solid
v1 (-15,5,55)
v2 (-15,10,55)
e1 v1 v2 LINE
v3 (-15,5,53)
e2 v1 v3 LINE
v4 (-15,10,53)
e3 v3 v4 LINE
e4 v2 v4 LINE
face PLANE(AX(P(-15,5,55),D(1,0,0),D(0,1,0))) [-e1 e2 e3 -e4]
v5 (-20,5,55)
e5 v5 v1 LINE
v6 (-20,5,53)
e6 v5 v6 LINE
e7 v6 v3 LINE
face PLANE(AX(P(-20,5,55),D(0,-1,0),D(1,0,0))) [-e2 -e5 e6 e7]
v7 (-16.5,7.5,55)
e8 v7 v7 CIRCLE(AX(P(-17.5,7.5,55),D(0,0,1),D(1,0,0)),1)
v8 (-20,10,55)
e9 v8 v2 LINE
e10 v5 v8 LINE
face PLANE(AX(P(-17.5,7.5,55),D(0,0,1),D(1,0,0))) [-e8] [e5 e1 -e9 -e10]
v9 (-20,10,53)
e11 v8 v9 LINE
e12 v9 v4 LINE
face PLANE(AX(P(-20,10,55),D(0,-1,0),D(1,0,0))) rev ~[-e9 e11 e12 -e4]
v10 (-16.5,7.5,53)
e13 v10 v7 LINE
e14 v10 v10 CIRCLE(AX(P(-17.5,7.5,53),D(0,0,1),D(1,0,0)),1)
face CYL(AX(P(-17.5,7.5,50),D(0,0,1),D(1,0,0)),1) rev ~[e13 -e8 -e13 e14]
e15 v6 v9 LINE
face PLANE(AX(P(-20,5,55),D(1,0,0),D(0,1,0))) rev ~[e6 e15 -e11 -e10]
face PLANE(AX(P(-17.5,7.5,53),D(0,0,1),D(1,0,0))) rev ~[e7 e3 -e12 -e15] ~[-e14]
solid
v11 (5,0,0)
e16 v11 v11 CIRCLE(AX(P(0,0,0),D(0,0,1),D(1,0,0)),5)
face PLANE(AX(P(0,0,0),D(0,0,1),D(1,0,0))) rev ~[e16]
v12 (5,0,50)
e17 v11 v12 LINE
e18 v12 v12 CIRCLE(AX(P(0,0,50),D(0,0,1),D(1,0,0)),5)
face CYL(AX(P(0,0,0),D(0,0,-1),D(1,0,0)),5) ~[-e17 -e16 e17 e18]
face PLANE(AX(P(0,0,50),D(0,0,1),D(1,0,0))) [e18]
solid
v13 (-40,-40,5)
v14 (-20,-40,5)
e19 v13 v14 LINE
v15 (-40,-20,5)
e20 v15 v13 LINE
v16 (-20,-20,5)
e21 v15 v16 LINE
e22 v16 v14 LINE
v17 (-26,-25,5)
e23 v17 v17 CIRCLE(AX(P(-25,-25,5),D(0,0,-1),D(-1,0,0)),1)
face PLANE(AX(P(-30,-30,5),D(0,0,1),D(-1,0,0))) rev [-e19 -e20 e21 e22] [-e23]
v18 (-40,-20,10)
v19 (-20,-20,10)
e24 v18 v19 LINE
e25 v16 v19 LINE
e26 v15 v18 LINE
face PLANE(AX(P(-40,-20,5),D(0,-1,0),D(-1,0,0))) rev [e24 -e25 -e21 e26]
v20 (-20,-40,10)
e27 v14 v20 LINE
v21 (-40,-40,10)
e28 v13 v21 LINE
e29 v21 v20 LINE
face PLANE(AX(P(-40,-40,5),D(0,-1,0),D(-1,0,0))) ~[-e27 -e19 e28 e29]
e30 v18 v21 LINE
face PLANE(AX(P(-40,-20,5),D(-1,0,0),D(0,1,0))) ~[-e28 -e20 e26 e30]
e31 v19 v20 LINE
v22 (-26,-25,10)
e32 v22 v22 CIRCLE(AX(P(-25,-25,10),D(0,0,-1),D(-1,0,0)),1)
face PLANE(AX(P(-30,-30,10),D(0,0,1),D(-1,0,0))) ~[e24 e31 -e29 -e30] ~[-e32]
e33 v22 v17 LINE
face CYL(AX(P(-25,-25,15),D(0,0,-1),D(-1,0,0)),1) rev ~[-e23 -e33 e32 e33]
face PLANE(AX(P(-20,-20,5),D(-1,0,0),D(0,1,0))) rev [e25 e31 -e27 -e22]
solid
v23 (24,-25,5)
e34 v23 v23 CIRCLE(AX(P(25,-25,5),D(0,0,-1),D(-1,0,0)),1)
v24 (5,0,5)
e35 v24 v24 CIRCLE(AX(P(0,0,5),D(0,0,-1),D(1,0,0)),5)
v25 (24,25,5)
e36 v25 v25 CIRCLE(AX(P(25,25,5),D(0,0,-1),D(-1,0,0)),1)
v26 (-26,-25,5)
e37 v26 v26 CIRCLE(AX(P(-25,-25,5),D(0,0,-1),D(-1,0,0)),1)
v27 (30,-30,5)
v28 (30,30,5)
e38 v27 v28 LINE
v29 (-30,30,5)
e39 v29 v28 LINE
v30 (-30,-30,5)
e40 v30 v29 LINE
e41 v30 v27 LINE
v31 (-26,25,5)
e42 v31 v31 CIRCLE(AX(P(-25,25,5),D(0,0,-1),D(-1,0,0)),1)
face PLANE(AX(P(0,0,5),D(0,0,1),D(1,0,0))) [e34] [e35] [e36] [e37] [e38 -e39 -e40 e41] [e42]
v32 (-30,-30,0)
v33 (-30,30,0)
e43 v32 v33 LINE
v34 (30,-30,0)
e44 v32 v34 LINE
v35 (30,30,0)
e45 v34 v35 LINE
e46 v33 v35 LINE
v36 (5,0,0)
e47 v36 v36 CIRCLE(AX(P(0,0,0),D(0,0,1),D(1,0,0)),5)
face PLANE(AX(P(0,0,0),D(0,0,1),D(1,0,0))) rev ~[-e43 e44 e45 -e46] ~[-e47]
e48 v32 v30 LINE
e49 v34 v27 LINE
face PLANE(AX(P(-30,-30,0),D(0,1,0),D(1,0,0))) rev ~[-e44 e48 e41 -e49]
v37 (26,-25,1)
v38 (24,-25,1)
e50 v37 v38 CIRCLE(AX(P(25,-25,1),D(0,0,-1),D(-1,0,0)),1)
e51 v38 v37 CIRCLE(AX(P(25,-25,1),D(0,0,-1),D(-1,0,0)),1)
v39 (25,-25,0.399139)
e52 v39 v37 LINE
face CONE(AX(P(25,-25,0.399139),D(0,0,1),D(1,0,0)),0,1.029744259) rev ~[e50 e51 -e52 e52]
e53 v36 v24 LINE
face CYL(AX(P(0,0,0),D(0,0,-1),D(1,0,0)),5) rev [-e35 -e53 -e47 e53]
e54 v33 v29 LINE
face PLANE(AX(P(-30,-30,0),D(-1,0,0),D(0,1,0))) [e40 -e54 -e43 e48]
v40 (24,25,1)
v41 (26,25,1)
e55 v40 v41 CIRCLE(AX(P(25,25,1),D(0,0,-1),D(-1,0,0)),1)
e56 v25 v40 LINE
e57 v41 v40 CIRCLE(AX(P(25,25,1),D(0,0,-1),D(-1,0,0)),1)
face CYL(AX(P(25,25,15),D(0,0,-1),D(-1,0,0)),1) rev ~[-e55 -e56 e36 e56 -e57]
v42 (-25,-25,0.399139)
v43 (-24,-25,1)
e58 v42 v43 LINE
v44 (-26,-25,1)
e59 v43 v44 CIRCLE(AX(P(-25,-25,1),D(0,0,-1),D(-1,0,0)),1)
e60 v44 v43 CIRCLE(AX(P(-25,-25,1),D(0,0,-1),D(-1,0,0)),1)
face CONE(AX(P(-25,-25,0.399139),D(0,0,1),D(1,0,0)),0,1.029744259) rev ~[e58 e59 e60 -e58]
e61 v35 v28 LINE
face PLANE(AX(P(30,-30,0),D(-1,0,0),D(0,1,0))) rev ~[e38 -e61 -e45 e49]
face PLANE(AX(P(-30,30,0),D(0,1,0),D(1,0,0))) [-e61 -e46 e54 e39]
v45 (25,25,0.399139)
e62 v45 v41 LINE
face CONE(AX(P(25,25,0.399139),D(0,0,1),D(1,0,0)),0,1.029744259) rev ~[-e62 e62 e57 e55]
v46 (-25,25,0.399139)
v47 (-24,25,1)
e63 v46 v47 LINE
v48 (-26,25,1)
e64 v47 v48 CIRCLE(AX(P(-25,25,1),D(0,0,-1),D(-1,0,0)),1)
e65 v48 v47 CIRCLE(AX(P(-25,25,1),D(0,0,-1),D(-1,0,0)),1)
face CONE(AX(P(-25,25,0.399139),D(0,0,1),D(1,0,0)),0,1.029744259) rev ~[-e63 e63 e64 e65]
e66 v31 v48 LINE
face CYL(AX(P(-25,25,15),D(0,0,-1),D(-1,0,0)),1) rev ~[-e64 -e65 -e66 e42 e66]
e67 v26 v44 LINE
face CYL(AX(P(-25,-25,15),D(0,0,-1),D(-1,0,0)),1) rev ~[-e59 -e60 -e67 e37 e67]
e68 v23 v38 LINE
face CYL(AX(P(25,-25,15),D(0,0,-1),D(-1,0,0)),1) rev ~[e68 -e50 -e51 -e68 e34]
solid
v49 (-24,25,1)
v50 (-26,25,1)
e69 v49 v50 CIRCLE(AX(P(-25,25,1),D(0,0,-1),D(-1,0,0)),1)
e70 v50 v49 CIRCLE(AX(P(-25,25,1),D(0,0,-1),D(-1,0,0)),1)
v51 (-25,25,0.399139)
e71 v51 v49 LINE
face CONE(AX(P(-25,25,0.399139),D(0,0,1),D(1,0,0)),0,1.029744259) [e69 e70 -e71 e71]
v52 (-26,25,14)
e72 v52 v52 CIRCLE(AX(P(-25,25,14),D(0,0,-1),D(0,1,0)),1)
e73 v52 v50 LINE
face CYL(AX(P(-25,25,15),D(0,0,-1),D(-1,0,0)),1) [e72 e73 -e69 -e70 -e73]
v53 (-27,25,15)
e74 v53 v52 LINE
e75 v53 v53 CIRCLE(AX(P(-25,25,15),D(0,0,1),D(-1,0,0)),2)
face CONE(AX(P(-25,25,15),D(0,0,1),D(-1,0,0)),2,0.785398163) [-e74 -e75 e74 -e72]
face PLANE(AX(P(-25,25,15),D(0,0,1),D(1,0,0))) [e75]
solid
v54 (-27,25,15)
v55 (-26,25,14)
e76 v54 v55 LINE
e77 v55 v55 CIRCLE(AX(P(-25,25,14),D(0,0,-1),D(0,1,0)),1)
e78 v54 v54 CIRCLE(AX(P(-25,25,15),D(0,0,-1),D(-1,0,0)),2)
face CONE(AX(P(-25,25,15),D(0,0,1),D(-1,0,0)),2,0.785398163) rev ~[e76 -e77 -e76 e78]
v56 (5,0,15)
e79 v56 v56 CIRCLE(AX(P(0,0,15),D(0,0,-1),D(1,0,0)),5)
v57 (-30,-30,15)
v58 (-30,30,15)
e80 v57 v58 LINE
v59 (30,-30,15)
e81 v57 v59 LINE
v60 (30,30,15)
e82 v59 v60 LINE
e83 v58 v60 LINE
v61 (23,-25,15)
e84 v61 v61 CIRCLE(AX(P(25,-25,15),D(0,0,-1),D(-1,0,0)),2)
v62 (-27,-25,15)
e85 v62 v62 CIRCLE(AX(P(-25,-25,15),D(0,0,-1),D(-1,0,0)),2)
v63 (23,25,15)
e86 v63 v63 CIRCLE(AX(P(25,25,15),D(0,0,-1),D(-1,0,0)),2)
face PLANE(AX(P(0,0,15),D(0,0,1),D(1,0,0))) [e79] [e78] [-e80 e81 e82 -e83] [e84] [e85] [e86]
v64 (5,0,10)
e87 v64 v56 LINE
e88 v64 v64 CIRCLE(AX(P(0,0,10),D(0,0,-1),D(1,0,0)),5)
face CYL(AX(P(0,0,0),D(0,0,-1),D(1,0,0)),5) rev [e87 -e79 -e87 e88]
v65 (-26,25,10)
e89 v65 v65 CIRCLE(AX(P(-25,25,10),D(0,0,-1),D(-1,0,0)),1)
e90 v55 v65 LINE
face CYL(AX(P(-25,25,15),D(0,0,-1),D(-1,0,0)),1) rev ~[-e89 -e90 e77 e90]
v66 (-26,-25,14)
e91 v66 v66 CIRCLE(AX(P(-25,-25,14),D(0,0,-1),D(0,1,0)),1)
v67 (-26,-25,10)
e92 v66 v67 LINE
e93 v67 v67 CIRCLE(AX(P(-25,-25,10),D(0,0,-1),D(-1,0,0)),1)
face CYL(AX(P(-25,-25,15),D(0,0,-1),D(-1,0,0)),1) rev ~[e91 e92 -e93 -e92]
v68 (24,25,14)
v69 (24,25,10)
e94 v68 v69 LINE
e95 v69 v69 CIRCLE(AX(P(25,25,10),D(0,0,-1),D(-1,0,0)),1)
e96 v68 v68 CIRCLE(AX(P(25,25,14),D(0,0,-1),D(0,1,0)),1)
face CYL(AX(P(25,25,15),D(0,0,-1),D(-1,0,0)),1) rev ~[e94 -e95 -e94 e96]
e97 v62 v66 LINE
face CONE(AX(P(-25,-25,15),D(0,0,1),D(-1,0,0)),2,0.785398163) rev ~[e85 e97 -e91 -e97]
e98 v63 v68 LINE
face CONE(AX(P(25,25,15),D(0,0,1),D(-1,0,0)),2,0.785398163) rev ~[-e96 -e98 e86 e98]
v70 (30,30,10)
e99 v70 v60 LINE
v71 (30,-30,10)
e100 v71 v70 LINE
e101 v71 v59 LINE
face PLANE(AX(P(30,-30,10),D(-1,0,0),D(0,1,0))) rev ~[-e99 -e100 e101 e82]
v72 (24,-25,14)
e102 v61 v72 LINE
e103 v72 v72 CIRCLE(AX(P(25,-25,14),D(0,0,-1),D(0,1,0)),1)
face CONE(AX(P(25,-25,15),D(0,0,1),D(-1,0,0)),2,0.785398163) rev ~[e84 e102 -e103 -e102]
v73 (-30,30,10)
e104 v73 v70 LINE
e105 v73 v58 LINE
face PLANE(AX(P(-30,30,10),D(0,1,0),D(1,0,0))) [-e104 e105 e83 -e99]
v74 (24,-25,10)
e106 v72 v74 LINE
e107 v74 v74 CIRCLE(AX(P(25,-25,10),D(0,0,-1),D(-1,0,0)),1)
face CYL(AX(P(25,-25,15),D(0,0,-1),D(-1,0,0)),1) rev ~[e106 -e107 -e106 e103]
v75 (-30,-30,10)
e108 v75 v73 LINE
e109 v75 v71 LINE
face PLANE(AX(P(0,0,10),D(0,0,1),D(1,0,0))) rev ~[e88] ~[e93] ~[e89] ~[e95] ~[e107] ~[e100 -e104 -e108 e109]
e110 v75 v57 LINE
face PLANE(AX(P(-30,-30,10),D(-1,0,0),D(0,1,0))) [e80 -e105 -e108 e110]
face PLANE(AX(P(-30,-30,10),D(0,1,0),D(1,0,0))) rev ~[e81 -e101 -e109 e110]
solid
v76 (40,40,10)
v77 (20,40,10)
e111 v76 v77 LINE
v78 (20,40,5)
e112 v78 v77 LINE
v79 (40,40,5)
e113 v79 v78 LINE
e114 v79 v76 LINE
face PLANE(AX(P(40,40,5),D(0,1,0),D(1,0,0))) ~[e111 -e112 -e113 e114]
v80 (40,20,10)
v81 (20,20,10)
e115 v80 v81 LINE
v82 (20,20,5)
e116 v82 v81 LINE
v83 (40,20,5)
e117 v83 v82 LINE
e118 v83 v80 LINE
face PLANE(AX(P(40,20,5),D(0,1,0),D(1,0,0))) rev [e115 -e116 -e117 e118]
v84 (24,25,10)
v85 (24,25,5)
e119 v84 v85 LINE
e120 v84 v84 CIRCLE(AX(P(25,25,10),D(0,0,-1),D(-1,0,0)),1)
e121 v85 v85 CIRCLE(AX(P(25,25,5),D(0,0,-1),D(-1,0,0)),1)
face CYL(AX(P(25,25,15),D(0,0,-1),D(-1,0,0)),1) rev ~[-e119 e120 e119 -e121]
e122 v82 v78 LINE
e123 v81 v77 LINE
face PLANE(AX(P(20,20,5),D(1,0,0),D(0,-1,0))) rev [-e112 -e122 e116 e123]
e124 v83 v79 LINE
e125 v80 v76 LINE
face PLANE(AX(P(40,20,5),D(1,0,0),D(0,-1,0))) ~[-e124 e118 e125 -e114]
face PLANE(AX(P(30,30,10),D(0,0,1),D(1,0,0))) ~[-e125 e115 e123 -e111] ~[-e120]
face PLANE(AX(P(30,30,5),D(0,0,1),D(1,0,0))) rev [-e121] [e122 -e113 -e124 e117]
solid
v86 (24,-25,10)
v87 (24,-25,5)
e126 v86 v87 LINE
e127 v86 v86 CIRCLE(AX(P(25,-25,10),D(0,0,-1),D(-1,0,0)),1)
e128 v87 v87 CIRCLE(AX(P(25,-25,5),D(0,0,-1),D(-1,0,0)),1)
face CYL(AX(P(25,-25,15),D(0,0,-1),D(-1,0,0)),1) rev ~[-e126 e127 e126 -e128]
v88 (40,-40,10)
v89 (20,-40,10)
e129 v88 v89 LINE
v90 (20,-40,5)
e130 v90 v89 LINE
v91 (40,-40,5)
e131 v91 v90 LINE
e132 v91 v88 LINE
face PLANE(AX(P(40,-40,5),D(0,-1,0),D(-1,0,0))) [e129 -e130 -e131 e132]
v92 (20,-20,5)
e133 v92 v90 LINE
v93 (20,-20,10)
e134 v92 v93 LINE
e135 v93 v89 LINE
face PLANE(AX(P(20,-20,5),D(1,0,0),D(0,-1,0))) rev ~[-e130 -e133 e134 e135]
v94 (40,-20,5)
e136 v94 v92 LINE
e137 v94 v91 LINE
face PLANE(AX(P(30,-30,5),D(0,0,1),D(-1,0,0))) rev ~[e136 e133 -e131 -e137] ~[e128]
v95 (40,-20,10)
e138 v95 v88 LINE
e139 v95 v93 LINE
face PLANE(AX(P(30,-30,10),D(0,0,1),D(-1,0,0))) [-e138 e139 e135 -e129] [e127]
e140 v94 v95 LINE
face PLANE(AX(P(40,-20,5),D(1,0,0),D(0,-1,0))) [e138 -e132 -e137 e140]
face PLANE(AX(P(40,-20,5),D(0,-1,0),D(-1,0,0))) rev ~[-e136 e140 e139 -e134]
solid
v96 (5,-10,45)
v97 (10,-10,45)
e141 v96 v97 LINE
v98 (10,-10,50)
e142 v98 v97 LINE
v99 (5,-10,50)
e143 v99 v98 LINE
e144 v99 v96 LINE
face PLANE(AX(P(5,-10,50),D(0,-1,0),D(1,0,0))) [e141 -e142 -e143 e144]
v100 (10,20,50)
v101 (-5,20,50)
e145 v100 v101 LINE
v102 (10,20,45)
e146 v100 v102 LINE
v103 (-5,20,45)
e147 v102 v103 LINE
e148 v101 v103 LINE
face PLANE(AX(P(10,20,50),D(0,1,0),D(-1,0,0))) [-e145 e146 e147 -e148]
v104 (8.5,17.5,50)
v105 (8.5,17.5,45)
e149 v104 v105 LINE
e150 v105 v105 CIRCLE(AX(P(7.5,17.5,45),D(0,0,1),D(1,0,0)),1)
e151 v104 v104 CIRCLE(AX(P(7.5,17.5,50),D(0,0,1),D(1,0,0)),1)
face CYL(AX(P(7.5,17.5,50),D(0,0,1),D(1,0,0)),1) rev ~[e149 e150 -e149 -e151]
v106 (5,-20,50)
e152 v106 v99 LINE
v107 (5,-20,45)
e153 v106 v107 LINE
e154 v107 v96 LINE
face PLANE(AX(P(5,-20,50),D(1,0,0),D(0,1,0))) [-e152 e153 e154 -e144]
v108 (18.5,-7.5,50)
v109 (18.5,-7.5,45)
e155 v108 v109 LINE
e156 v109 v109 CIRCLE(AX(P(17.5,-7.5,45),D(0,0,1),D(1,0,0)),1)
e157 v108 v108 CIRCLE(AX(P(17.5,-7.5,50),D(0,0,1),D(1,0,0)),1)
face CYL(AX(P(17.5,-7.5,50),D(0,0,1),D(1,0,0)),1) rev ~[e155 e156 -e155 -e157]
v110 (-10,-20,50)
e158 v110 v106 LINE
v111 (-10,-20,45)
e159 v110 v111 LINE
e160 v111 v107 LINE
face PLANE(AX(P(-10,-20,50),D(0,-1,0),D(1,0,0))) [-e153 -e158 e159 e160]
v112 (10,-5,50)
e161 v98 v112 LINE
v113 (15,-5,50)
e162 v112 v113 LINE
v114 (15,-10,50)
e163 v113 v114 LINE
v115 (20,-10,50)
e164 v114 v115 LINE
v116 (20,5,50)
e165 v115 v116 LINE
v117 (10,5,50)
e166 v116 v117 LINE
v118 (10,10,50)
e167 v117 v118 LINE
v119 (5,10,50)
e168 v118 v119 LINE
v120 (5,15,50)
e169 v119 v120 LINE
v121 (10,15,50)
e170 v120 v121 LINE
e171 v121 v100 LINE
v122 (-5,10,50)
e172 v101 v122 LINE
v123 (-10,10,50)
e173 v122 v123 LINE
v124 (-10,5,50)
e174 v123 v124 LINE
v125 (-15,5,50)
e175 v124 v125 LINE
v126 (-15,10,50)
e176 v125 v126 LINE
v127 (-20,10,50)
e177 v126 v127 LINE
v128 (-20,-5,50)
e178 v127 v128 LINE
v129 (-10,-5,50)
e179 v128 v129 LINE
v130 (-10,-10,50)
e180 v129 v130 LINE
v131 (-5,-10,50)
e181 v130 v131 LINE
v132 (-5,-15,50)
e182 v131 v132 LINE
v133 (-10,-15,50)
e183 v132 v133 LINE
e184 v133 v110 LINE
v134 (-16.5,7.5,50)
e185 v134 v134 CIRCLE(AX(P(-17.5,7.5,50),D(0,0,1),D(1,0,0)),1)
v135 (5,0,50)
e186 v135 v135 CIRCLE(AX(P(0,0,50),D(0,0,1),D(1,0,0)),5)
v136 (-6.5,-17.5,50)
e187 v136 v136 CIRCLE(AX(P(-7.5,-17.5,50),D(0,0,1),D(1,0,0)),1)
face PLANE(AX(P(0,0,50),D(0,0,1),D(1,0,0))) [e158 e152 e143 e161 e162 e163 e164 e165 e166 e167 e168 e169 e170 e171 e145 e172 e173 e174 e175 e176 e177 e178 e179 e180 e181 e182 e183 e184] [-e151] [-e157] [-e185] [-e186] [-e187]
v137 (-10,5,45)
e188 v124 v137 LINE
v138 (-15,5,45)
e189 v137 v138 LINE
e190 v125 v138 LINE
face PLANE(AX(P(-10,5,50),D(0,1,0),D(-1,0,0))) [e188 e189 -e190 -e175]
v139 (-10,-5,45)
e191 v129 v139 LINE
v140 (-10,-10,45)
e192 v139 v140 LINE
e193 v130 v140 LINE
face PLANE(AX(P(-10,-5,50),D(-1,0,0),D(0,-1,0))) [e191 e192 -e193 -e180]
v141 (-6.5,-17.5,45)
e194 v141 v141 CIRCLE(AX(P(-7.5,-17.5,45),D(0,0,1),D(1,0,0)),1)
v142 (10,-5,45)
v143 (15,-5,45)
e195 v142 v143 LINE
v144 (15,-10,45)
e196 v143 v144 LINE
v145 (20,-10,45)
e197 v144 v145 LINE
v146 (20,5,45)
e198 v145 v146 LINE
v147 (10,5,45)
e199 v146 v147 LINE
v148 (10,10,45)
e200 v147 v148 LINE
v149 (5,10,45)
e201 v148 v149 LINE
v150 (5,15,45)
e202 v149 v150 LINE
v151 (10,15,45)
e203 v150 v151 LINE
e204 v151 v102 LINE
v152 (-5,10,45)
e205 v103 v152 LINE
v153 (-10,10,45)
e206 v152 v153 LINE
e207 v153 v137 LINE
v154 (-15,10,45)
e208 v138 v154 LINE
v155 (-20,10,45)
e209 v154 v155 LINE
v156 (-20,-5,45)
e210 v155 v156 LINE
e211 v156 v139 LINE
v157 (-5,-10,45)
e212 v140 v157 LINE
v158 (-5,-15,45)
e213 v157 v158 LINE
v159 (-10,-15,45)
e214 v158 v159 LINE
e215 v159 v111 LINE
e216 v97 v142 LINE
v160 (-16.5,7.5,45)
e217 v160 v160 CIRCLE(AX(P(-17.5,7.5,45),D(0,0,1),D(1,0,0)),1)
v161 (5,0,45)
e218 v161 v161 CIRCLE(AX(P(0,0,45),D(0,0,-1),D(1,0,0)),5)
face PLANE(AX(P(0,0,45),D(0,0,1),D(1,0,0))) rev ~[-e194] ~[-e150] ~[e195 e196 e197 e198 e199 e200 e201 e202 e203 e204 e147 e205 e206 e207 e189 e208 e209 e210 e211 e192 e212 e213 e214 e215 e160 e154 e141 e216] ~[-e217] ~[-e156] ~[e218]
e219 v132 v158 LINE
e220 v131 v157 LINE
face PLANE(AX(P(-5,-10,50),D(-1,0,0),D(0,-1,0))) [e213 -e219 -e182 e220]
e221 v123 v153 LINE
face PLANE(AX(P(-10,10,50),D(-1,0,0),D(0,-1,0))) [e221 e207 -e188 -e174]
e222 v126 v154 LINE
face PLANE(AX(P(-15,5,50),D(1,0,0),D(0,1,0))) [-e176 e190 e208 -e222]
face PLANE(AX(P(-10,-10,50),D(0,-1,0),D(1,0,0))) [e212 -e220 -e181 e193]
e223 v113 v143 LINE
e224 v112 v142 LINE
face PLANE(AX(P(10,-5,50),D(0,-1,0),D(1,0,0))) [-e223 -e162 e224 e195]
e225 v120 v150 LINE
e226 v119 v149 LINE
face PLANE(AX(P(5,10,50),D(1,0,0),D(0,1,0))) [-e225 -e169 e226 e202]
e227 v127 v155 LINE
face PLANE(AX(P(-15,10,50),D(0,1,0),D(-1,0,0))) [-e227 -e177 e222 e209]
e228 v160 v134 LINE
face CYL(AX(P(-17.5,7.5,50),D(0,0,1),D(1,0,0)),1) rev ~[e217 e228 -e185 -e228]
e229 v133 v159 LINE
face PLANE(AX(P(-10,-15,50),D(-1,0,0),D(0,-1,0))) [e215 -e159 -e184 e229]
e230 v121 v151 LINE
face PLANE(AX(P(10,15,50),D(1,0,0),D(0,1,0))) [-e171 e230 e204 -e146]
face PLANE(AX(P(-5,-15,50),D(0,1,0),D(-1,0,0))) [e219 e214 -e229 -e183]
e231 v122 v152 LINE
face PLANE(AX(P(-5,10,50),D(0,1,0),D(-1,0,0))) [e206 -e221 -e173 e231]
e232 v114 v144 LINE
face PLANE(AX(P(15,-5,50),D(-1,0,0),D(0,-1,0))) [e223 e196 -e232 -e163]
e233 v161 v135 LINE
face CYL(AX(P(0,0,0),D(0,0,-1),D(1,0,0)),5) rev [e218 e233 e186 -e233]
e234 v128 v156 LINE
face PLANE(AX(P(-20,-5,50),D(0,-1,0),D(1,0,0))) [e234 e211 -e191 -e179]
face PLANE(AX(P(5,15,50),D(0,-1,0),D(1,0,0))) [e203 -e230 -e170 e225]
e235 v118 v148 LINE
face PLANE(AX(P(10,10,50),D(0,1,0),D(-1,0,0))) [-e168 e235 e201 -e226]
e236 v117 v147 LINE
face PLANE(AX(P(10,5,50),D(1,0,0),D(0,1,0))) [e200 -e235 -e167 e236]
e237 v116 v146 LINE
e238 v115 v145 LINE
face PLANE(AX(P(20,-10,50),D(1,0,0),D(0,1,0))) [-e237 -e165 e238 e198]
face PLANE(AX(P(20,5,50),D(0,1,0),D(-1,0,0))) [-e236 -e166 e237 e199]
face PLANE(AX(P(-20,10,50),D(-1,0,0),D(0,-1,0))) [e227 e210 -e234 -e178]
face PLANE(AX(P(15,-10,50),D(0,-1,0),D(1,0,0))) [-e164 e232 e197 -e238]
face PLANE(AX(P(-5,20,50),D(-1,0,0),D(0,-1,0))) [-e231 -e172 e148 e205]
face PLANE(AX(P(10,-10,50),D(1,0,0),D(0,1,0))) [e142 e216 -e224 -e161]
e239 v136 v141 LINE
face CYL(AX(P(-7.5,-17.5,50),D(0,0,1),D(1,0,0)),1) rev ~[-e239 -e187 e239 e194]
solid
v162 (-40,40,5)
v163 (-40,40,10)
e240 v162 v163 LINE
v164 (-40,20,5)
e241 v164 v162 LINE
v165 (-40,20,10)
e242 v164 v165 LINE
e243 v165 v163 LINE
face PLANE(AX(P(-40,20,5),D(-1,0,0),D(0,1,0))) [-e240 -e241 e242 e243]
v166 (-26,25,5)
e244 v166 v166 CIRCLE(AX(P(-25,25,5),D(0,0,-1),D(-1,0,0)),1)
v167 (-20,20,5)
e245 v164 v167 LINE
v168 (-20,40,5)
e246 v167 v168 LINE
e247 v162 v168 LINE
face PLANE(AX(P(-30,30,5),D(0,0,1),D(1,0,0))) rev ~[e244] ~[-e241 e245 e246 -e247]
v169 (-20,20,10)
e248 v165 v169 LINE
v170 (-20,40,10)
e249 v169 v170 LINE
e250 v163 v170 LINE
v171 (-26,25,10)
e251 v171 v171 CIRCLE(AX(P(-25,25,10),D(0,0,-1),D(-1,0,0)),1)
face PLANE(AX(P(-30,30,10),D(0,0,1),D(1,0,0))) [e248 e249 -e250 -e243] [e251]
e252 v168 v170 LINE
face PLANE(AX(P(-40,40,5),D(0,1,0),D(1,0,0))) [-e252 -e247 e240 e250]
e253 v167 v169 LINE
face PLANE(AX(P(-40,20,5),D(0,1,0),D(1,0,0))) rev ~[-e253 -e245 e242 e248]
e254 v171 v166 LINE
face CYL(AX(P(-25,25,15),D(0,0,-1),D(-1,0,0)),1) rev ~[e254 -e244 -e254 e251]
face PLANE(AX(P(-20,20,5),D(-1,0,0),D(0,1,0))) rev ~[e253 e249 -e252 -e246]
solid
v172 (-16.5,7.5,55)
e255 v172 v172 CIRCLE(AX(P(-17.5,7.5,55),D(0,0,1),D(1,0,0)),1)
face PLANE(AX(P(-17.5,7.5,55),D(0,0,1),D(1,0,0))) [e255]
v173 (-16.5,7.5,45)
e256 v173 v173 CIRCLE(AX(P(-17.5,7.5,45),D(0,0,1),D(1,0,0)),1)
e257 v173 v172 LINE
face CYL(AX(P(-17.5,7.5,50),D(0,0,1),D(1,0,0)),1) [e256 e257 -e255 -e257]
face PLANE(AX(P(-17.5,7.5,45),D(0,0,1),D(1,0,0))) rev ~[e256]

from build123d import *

# Parameters (mm, degrees)
F0_W             = 60
F0_H             = 60
F1_DEPTH         = 5
F2_W             = 20
F2_H             = 20
F3_DEPTH         = 5
F4_W             = 60
F4_H             = 60
F5_DEPTH         = 5
F9_D             = 2
F9_DEPTH         = 14
F9_CSINK_D       = 4
F9_CSINK_ANGLE   = 90
F9_TIP           = 0.600860619
F9_2_D           = 2
F9_2_DEPTH       = 14
F9_2_CSINK_D     = 4
F9_2_CSINK_ANGLE = 90
F9_2_TIP         = 0.600860619
F9_3_D           = 2
F9_3_DEPTH       = 14
F9_3_CSINK_D     = 4
F9_3_CSINK_ANGLE = 90
F9_3_TIP         = 0.600860619
F9_4_D           = 2
F9_4_DEPTH       = 14
F9_4_CSINK_D     = 4
F9_4_CSINK_ANGLE = 90
F9_4_TIP         = 0.600860619
F9_5_D           = 2
F9_5_DEPTH       = 14
F9_5_CSINK_D     = 4
F9_5_CSINK_ANGLE = 90
F9_5_TIP         = 0.600860619
F9_6_D           = 2
F9_6_DEPTH       = 14
F9_6_CSINK_D     = 4
F9_6_CSINK_ANGLE = 90
F9_6_TIP         = 0.600860619
F10_R            = 2
F11_DEPTH        = 15
F13_R            = 5
F14_DEPTH        = 50
F16_DEPTH        = 5
F18_R            = 1
F19_DEPTH        = 5
F20_W            = 5
F20_H            = 5
F21_DEPTH        = 2
F23_R            = 1
F24_DEPTH        = 10


with BuildPart() as f1:
    # F0 (on Top) → F1 (new body)
    with BuildSketch(Plane.XY):
        Rectangle(F0_W, F0_H)
    extrude(amount=F1_DEPTH)

    # F9
    with Locations(Plane.XY.offset(15)):
        with Locations((-25, 25), (25, 25), (-25, -25), (25, -25)):
            CounterSinkHole(F9_D / 2, F9_CSINK_D / 2, depth=F9_DEPTH, counter_sink_angle=F9_CSINK_ANGLE)
            with Locations((0, 0, -(F9_DEPTH + F9_TIP / 2))):  # 118° drill point
                Cone(0, F9_D / 2, F9_TIP, mode=Mode.SUBTRACT)


with BuildPart() as f3:
    # F2 (on face) → F3 (new body)
    with BuildSketch(Plane.XY.offset(5)):
        with Locations((-30, 30)):
            Rectangle(F2_W, F2_H)
    extrude(amount=F3_DEPTH)


with BuildPart() as f5:
    # F4 (on face) → F5 (new body)
    with BuildSketch(Plane.XY.offset(10)):
        Rectangle(F4_W, F4_H)
    extrude(amount=F5_DEPTH)

    # F9#3
    with Locations(Plane.XY.offset(15)):
        with Locations((-25, 25), (25, 25), (-25, -25), (25, -25)):
            CounterSinkHole(F9_3_D / 2, F9_3_CSINK_D / 2, depth=F9_3_DEPTH, counter_sink_angle=F9_3_CSINK_ANGLE)
            with Locations((0, 0, -(F9_3_DEPTH + F9_3_TIP / 2))):  # 118° drill point
                Cone(0, F9_3_D / 2, F9_3_TIP, mode=Mode.SUBTRACT)


with BuildPart() as f6_1:
    # F6: instance of F3
    add(f3.part.mirror(Plane.YZ))


with BuildPart() as f7_1:
    # F7: instance of F3
    add(f3.part.mirror(Plane.XZ))

    # F9#5
    with Locations(Plane.XY.offset(15)):
        with Locations((-25, 25), (25, 25), (-25, -25), (25, -25)):
            CounterSinkHole(F9_5_D / 2, F9_5_CSINK_D / 2, depth=F9_5_DEPTH, counter_sink_angle=F9_5_CSINK_ANGLE)
            with Locations((0, 0, -(F9_5_DEPTH + F9_5_TIP / 2))):  # 118° drill point
                Cone(0, F9_5_D / 2, F9_5_TIP, mode=Mode.SUBTRACT)


with BuildPart() as f7_2:
    # F7: instance of F6_1
    add(f6_1.part.mirror(Plane.XZ))

    # F9#6
    with Locations(Plane.XY.offset(15)):
        with Locations((-25, 25), (25, 25), (-25, -25), (25, -25)):
            CounterSinkHole(F9_6_D / 2, F9_6_CSINK_D / 2, depth=F9_6_DEPTH, counter_sink_angle=F9_6_CSINK_ANGLE)
            with Locations((0, 0, -(F9_6_DEPTH + F9_6_TIP / 2))):  # 118° drill point
                Cone(0, F9_6_D / 2, F9_6_TIP, mode=Mode.SUBTRACT)


with BuildPart() as f3_1:
    add(f3.part)

    # F9#2
    with Locations(Plane.XY.offset(15)):
        with Locations((-25, 25), (25, 25), (-25, -25), (25, -25)):
            CounterSinkHole(F9_2_D / 2, F9_2_CSINK_D / 2, depth=F9_2_DEPTH, counter_sink_angle=F9_2_CSINK_ANGLE)
            with Locations((0, 0, -(F9_2_DEPTH + F9_2_TIP / 2))):  # 118° drill point
                Cone(0, F9_2_D / 2, F9_2_TIP, mode=Mode.SUBTRACT)


with BuildPart() as f6_1_1:
    add(f6_1.part)

    # F9#4
    with Locations(Plane.XY.offset(15)):
        with Locations((-25, 25), (25, 25), (-25, -25), (25, -25)):
            CounterSinkHole(F9_4_D / 2, F9_4_CSINK_D / 2, depth=F9_4_DEPTH, counter_sink_angle=F9_4_CSINK_ANGLE)
            with Locations((0, 0, -(F9_4_DEPTH + F9_4_TIP / 2))):  # 118° drill point
                Cone(0, F9_4_D / 2, F9_4_TIP, mode=Mode.SUBTRACT)


with BuildPart() as f11:
    # F10 (on face) → F11 (new body, through all)
    with BuildSketch(Plane.XY.offset(15)):
        with Locations((-25, 25)):
            Circle(F10_R)
    extrude(amount=-F11_DEPTH)

    # F12: cut F5, F3, F1
    add(f5.part, mode=Mode.SUBTRACT)
    add(f3_1.part, mode=Mode.SUBTRACT)
    add(f1.part, mode=Mode.SUBTRACT)


with BuildPart() as f14:
    # F13 (on Top) → F14 (new body)
    with BuildSketch(Plane.XY):
        Circle(F13_R)
    extrude(amount=F14_DEPTH)


with BuildPart() as f16:
    # F15 (on face) → F16 (new body)
    with BuildSketch(Plane.XY.offset(50)):
        Polygon((-5, 20), (-5, 10), (-10, 10), (-10, 5), (-15, 5), (-15, 10), (-20, 10), (-20, -5), (-10, -5), (-10, -10), (-5, -10), (-5, -15), (-10, -15), (-10, -20), (5, -20), (5, -10), (10, -10), (10, -5), (15, -5), (15, -10), (20, -10), (20, 5), (10, 5), (10, 10), (5, 10), (5, 15), (10, 15), (10, 20), align=None)
    extrude(amount=-F16_DEPTH)

    # F17: cut F14
    add(f14.part, mode=Mode.SUBTRACT)


with BuildPart() as f5_1:
    add(f5.part)

    # F17: cut F14
    add(f14.part, mode=Mode.SUBTRACT)


with BuildPart() as f1_1:
    add(f1.part)

    # F17: cut F14
    add(f14.part, mode=Mode.SUBTRACT)


with BuildPart() as f19:
    # F18 (on face) → F19 (new body, symmetric)
    with BuildSketch(Plane.XY.offset(50)):
        with Locations((-17.5, 7.5)):
            Circle(F18_R)
    extrude(amount=F19_DEPTH, both=True)


with BuildPart() as f21:
    # F20 (on face) → F21 (new body)
    with BuildSketch(Plane.XY.offset(55)):
        with Locations((-17.5, 7.5)):
            Rectangle(F20_W, F20_H)
    extrude(amount=-F21_DEPTH)

    # F22: cut F19
    add(f19.part, mode=Mode.SUBTRACT)


with BuildPart() as f16_1:
    add(f16.part)

    # F22: cut F19
    add(f19.part, mode=Mode.SUBTRACT)

    # F23 (on face) → F24 (cut)
    with BuildSketch(Plane.XY.offset(50)):
        with Locations((-7.5, -17.5)):
            Circle(F23_R)
        with Locations((17.5, -7.5)):
            Circle(F23_R)
        with Locations((7.5, 17.5)):
            Circle(F23_R)
    extrude(amount=-F24_DEPTH, mode=Mode.SUBTRACT)


solid = Compound([f7_1.part, f7_2.part, f3_1.part, f6_1_1.part, f11.part, f14.part, f5_1.part, f1_1.part, f19.part, f21.part, f16_1.part])
